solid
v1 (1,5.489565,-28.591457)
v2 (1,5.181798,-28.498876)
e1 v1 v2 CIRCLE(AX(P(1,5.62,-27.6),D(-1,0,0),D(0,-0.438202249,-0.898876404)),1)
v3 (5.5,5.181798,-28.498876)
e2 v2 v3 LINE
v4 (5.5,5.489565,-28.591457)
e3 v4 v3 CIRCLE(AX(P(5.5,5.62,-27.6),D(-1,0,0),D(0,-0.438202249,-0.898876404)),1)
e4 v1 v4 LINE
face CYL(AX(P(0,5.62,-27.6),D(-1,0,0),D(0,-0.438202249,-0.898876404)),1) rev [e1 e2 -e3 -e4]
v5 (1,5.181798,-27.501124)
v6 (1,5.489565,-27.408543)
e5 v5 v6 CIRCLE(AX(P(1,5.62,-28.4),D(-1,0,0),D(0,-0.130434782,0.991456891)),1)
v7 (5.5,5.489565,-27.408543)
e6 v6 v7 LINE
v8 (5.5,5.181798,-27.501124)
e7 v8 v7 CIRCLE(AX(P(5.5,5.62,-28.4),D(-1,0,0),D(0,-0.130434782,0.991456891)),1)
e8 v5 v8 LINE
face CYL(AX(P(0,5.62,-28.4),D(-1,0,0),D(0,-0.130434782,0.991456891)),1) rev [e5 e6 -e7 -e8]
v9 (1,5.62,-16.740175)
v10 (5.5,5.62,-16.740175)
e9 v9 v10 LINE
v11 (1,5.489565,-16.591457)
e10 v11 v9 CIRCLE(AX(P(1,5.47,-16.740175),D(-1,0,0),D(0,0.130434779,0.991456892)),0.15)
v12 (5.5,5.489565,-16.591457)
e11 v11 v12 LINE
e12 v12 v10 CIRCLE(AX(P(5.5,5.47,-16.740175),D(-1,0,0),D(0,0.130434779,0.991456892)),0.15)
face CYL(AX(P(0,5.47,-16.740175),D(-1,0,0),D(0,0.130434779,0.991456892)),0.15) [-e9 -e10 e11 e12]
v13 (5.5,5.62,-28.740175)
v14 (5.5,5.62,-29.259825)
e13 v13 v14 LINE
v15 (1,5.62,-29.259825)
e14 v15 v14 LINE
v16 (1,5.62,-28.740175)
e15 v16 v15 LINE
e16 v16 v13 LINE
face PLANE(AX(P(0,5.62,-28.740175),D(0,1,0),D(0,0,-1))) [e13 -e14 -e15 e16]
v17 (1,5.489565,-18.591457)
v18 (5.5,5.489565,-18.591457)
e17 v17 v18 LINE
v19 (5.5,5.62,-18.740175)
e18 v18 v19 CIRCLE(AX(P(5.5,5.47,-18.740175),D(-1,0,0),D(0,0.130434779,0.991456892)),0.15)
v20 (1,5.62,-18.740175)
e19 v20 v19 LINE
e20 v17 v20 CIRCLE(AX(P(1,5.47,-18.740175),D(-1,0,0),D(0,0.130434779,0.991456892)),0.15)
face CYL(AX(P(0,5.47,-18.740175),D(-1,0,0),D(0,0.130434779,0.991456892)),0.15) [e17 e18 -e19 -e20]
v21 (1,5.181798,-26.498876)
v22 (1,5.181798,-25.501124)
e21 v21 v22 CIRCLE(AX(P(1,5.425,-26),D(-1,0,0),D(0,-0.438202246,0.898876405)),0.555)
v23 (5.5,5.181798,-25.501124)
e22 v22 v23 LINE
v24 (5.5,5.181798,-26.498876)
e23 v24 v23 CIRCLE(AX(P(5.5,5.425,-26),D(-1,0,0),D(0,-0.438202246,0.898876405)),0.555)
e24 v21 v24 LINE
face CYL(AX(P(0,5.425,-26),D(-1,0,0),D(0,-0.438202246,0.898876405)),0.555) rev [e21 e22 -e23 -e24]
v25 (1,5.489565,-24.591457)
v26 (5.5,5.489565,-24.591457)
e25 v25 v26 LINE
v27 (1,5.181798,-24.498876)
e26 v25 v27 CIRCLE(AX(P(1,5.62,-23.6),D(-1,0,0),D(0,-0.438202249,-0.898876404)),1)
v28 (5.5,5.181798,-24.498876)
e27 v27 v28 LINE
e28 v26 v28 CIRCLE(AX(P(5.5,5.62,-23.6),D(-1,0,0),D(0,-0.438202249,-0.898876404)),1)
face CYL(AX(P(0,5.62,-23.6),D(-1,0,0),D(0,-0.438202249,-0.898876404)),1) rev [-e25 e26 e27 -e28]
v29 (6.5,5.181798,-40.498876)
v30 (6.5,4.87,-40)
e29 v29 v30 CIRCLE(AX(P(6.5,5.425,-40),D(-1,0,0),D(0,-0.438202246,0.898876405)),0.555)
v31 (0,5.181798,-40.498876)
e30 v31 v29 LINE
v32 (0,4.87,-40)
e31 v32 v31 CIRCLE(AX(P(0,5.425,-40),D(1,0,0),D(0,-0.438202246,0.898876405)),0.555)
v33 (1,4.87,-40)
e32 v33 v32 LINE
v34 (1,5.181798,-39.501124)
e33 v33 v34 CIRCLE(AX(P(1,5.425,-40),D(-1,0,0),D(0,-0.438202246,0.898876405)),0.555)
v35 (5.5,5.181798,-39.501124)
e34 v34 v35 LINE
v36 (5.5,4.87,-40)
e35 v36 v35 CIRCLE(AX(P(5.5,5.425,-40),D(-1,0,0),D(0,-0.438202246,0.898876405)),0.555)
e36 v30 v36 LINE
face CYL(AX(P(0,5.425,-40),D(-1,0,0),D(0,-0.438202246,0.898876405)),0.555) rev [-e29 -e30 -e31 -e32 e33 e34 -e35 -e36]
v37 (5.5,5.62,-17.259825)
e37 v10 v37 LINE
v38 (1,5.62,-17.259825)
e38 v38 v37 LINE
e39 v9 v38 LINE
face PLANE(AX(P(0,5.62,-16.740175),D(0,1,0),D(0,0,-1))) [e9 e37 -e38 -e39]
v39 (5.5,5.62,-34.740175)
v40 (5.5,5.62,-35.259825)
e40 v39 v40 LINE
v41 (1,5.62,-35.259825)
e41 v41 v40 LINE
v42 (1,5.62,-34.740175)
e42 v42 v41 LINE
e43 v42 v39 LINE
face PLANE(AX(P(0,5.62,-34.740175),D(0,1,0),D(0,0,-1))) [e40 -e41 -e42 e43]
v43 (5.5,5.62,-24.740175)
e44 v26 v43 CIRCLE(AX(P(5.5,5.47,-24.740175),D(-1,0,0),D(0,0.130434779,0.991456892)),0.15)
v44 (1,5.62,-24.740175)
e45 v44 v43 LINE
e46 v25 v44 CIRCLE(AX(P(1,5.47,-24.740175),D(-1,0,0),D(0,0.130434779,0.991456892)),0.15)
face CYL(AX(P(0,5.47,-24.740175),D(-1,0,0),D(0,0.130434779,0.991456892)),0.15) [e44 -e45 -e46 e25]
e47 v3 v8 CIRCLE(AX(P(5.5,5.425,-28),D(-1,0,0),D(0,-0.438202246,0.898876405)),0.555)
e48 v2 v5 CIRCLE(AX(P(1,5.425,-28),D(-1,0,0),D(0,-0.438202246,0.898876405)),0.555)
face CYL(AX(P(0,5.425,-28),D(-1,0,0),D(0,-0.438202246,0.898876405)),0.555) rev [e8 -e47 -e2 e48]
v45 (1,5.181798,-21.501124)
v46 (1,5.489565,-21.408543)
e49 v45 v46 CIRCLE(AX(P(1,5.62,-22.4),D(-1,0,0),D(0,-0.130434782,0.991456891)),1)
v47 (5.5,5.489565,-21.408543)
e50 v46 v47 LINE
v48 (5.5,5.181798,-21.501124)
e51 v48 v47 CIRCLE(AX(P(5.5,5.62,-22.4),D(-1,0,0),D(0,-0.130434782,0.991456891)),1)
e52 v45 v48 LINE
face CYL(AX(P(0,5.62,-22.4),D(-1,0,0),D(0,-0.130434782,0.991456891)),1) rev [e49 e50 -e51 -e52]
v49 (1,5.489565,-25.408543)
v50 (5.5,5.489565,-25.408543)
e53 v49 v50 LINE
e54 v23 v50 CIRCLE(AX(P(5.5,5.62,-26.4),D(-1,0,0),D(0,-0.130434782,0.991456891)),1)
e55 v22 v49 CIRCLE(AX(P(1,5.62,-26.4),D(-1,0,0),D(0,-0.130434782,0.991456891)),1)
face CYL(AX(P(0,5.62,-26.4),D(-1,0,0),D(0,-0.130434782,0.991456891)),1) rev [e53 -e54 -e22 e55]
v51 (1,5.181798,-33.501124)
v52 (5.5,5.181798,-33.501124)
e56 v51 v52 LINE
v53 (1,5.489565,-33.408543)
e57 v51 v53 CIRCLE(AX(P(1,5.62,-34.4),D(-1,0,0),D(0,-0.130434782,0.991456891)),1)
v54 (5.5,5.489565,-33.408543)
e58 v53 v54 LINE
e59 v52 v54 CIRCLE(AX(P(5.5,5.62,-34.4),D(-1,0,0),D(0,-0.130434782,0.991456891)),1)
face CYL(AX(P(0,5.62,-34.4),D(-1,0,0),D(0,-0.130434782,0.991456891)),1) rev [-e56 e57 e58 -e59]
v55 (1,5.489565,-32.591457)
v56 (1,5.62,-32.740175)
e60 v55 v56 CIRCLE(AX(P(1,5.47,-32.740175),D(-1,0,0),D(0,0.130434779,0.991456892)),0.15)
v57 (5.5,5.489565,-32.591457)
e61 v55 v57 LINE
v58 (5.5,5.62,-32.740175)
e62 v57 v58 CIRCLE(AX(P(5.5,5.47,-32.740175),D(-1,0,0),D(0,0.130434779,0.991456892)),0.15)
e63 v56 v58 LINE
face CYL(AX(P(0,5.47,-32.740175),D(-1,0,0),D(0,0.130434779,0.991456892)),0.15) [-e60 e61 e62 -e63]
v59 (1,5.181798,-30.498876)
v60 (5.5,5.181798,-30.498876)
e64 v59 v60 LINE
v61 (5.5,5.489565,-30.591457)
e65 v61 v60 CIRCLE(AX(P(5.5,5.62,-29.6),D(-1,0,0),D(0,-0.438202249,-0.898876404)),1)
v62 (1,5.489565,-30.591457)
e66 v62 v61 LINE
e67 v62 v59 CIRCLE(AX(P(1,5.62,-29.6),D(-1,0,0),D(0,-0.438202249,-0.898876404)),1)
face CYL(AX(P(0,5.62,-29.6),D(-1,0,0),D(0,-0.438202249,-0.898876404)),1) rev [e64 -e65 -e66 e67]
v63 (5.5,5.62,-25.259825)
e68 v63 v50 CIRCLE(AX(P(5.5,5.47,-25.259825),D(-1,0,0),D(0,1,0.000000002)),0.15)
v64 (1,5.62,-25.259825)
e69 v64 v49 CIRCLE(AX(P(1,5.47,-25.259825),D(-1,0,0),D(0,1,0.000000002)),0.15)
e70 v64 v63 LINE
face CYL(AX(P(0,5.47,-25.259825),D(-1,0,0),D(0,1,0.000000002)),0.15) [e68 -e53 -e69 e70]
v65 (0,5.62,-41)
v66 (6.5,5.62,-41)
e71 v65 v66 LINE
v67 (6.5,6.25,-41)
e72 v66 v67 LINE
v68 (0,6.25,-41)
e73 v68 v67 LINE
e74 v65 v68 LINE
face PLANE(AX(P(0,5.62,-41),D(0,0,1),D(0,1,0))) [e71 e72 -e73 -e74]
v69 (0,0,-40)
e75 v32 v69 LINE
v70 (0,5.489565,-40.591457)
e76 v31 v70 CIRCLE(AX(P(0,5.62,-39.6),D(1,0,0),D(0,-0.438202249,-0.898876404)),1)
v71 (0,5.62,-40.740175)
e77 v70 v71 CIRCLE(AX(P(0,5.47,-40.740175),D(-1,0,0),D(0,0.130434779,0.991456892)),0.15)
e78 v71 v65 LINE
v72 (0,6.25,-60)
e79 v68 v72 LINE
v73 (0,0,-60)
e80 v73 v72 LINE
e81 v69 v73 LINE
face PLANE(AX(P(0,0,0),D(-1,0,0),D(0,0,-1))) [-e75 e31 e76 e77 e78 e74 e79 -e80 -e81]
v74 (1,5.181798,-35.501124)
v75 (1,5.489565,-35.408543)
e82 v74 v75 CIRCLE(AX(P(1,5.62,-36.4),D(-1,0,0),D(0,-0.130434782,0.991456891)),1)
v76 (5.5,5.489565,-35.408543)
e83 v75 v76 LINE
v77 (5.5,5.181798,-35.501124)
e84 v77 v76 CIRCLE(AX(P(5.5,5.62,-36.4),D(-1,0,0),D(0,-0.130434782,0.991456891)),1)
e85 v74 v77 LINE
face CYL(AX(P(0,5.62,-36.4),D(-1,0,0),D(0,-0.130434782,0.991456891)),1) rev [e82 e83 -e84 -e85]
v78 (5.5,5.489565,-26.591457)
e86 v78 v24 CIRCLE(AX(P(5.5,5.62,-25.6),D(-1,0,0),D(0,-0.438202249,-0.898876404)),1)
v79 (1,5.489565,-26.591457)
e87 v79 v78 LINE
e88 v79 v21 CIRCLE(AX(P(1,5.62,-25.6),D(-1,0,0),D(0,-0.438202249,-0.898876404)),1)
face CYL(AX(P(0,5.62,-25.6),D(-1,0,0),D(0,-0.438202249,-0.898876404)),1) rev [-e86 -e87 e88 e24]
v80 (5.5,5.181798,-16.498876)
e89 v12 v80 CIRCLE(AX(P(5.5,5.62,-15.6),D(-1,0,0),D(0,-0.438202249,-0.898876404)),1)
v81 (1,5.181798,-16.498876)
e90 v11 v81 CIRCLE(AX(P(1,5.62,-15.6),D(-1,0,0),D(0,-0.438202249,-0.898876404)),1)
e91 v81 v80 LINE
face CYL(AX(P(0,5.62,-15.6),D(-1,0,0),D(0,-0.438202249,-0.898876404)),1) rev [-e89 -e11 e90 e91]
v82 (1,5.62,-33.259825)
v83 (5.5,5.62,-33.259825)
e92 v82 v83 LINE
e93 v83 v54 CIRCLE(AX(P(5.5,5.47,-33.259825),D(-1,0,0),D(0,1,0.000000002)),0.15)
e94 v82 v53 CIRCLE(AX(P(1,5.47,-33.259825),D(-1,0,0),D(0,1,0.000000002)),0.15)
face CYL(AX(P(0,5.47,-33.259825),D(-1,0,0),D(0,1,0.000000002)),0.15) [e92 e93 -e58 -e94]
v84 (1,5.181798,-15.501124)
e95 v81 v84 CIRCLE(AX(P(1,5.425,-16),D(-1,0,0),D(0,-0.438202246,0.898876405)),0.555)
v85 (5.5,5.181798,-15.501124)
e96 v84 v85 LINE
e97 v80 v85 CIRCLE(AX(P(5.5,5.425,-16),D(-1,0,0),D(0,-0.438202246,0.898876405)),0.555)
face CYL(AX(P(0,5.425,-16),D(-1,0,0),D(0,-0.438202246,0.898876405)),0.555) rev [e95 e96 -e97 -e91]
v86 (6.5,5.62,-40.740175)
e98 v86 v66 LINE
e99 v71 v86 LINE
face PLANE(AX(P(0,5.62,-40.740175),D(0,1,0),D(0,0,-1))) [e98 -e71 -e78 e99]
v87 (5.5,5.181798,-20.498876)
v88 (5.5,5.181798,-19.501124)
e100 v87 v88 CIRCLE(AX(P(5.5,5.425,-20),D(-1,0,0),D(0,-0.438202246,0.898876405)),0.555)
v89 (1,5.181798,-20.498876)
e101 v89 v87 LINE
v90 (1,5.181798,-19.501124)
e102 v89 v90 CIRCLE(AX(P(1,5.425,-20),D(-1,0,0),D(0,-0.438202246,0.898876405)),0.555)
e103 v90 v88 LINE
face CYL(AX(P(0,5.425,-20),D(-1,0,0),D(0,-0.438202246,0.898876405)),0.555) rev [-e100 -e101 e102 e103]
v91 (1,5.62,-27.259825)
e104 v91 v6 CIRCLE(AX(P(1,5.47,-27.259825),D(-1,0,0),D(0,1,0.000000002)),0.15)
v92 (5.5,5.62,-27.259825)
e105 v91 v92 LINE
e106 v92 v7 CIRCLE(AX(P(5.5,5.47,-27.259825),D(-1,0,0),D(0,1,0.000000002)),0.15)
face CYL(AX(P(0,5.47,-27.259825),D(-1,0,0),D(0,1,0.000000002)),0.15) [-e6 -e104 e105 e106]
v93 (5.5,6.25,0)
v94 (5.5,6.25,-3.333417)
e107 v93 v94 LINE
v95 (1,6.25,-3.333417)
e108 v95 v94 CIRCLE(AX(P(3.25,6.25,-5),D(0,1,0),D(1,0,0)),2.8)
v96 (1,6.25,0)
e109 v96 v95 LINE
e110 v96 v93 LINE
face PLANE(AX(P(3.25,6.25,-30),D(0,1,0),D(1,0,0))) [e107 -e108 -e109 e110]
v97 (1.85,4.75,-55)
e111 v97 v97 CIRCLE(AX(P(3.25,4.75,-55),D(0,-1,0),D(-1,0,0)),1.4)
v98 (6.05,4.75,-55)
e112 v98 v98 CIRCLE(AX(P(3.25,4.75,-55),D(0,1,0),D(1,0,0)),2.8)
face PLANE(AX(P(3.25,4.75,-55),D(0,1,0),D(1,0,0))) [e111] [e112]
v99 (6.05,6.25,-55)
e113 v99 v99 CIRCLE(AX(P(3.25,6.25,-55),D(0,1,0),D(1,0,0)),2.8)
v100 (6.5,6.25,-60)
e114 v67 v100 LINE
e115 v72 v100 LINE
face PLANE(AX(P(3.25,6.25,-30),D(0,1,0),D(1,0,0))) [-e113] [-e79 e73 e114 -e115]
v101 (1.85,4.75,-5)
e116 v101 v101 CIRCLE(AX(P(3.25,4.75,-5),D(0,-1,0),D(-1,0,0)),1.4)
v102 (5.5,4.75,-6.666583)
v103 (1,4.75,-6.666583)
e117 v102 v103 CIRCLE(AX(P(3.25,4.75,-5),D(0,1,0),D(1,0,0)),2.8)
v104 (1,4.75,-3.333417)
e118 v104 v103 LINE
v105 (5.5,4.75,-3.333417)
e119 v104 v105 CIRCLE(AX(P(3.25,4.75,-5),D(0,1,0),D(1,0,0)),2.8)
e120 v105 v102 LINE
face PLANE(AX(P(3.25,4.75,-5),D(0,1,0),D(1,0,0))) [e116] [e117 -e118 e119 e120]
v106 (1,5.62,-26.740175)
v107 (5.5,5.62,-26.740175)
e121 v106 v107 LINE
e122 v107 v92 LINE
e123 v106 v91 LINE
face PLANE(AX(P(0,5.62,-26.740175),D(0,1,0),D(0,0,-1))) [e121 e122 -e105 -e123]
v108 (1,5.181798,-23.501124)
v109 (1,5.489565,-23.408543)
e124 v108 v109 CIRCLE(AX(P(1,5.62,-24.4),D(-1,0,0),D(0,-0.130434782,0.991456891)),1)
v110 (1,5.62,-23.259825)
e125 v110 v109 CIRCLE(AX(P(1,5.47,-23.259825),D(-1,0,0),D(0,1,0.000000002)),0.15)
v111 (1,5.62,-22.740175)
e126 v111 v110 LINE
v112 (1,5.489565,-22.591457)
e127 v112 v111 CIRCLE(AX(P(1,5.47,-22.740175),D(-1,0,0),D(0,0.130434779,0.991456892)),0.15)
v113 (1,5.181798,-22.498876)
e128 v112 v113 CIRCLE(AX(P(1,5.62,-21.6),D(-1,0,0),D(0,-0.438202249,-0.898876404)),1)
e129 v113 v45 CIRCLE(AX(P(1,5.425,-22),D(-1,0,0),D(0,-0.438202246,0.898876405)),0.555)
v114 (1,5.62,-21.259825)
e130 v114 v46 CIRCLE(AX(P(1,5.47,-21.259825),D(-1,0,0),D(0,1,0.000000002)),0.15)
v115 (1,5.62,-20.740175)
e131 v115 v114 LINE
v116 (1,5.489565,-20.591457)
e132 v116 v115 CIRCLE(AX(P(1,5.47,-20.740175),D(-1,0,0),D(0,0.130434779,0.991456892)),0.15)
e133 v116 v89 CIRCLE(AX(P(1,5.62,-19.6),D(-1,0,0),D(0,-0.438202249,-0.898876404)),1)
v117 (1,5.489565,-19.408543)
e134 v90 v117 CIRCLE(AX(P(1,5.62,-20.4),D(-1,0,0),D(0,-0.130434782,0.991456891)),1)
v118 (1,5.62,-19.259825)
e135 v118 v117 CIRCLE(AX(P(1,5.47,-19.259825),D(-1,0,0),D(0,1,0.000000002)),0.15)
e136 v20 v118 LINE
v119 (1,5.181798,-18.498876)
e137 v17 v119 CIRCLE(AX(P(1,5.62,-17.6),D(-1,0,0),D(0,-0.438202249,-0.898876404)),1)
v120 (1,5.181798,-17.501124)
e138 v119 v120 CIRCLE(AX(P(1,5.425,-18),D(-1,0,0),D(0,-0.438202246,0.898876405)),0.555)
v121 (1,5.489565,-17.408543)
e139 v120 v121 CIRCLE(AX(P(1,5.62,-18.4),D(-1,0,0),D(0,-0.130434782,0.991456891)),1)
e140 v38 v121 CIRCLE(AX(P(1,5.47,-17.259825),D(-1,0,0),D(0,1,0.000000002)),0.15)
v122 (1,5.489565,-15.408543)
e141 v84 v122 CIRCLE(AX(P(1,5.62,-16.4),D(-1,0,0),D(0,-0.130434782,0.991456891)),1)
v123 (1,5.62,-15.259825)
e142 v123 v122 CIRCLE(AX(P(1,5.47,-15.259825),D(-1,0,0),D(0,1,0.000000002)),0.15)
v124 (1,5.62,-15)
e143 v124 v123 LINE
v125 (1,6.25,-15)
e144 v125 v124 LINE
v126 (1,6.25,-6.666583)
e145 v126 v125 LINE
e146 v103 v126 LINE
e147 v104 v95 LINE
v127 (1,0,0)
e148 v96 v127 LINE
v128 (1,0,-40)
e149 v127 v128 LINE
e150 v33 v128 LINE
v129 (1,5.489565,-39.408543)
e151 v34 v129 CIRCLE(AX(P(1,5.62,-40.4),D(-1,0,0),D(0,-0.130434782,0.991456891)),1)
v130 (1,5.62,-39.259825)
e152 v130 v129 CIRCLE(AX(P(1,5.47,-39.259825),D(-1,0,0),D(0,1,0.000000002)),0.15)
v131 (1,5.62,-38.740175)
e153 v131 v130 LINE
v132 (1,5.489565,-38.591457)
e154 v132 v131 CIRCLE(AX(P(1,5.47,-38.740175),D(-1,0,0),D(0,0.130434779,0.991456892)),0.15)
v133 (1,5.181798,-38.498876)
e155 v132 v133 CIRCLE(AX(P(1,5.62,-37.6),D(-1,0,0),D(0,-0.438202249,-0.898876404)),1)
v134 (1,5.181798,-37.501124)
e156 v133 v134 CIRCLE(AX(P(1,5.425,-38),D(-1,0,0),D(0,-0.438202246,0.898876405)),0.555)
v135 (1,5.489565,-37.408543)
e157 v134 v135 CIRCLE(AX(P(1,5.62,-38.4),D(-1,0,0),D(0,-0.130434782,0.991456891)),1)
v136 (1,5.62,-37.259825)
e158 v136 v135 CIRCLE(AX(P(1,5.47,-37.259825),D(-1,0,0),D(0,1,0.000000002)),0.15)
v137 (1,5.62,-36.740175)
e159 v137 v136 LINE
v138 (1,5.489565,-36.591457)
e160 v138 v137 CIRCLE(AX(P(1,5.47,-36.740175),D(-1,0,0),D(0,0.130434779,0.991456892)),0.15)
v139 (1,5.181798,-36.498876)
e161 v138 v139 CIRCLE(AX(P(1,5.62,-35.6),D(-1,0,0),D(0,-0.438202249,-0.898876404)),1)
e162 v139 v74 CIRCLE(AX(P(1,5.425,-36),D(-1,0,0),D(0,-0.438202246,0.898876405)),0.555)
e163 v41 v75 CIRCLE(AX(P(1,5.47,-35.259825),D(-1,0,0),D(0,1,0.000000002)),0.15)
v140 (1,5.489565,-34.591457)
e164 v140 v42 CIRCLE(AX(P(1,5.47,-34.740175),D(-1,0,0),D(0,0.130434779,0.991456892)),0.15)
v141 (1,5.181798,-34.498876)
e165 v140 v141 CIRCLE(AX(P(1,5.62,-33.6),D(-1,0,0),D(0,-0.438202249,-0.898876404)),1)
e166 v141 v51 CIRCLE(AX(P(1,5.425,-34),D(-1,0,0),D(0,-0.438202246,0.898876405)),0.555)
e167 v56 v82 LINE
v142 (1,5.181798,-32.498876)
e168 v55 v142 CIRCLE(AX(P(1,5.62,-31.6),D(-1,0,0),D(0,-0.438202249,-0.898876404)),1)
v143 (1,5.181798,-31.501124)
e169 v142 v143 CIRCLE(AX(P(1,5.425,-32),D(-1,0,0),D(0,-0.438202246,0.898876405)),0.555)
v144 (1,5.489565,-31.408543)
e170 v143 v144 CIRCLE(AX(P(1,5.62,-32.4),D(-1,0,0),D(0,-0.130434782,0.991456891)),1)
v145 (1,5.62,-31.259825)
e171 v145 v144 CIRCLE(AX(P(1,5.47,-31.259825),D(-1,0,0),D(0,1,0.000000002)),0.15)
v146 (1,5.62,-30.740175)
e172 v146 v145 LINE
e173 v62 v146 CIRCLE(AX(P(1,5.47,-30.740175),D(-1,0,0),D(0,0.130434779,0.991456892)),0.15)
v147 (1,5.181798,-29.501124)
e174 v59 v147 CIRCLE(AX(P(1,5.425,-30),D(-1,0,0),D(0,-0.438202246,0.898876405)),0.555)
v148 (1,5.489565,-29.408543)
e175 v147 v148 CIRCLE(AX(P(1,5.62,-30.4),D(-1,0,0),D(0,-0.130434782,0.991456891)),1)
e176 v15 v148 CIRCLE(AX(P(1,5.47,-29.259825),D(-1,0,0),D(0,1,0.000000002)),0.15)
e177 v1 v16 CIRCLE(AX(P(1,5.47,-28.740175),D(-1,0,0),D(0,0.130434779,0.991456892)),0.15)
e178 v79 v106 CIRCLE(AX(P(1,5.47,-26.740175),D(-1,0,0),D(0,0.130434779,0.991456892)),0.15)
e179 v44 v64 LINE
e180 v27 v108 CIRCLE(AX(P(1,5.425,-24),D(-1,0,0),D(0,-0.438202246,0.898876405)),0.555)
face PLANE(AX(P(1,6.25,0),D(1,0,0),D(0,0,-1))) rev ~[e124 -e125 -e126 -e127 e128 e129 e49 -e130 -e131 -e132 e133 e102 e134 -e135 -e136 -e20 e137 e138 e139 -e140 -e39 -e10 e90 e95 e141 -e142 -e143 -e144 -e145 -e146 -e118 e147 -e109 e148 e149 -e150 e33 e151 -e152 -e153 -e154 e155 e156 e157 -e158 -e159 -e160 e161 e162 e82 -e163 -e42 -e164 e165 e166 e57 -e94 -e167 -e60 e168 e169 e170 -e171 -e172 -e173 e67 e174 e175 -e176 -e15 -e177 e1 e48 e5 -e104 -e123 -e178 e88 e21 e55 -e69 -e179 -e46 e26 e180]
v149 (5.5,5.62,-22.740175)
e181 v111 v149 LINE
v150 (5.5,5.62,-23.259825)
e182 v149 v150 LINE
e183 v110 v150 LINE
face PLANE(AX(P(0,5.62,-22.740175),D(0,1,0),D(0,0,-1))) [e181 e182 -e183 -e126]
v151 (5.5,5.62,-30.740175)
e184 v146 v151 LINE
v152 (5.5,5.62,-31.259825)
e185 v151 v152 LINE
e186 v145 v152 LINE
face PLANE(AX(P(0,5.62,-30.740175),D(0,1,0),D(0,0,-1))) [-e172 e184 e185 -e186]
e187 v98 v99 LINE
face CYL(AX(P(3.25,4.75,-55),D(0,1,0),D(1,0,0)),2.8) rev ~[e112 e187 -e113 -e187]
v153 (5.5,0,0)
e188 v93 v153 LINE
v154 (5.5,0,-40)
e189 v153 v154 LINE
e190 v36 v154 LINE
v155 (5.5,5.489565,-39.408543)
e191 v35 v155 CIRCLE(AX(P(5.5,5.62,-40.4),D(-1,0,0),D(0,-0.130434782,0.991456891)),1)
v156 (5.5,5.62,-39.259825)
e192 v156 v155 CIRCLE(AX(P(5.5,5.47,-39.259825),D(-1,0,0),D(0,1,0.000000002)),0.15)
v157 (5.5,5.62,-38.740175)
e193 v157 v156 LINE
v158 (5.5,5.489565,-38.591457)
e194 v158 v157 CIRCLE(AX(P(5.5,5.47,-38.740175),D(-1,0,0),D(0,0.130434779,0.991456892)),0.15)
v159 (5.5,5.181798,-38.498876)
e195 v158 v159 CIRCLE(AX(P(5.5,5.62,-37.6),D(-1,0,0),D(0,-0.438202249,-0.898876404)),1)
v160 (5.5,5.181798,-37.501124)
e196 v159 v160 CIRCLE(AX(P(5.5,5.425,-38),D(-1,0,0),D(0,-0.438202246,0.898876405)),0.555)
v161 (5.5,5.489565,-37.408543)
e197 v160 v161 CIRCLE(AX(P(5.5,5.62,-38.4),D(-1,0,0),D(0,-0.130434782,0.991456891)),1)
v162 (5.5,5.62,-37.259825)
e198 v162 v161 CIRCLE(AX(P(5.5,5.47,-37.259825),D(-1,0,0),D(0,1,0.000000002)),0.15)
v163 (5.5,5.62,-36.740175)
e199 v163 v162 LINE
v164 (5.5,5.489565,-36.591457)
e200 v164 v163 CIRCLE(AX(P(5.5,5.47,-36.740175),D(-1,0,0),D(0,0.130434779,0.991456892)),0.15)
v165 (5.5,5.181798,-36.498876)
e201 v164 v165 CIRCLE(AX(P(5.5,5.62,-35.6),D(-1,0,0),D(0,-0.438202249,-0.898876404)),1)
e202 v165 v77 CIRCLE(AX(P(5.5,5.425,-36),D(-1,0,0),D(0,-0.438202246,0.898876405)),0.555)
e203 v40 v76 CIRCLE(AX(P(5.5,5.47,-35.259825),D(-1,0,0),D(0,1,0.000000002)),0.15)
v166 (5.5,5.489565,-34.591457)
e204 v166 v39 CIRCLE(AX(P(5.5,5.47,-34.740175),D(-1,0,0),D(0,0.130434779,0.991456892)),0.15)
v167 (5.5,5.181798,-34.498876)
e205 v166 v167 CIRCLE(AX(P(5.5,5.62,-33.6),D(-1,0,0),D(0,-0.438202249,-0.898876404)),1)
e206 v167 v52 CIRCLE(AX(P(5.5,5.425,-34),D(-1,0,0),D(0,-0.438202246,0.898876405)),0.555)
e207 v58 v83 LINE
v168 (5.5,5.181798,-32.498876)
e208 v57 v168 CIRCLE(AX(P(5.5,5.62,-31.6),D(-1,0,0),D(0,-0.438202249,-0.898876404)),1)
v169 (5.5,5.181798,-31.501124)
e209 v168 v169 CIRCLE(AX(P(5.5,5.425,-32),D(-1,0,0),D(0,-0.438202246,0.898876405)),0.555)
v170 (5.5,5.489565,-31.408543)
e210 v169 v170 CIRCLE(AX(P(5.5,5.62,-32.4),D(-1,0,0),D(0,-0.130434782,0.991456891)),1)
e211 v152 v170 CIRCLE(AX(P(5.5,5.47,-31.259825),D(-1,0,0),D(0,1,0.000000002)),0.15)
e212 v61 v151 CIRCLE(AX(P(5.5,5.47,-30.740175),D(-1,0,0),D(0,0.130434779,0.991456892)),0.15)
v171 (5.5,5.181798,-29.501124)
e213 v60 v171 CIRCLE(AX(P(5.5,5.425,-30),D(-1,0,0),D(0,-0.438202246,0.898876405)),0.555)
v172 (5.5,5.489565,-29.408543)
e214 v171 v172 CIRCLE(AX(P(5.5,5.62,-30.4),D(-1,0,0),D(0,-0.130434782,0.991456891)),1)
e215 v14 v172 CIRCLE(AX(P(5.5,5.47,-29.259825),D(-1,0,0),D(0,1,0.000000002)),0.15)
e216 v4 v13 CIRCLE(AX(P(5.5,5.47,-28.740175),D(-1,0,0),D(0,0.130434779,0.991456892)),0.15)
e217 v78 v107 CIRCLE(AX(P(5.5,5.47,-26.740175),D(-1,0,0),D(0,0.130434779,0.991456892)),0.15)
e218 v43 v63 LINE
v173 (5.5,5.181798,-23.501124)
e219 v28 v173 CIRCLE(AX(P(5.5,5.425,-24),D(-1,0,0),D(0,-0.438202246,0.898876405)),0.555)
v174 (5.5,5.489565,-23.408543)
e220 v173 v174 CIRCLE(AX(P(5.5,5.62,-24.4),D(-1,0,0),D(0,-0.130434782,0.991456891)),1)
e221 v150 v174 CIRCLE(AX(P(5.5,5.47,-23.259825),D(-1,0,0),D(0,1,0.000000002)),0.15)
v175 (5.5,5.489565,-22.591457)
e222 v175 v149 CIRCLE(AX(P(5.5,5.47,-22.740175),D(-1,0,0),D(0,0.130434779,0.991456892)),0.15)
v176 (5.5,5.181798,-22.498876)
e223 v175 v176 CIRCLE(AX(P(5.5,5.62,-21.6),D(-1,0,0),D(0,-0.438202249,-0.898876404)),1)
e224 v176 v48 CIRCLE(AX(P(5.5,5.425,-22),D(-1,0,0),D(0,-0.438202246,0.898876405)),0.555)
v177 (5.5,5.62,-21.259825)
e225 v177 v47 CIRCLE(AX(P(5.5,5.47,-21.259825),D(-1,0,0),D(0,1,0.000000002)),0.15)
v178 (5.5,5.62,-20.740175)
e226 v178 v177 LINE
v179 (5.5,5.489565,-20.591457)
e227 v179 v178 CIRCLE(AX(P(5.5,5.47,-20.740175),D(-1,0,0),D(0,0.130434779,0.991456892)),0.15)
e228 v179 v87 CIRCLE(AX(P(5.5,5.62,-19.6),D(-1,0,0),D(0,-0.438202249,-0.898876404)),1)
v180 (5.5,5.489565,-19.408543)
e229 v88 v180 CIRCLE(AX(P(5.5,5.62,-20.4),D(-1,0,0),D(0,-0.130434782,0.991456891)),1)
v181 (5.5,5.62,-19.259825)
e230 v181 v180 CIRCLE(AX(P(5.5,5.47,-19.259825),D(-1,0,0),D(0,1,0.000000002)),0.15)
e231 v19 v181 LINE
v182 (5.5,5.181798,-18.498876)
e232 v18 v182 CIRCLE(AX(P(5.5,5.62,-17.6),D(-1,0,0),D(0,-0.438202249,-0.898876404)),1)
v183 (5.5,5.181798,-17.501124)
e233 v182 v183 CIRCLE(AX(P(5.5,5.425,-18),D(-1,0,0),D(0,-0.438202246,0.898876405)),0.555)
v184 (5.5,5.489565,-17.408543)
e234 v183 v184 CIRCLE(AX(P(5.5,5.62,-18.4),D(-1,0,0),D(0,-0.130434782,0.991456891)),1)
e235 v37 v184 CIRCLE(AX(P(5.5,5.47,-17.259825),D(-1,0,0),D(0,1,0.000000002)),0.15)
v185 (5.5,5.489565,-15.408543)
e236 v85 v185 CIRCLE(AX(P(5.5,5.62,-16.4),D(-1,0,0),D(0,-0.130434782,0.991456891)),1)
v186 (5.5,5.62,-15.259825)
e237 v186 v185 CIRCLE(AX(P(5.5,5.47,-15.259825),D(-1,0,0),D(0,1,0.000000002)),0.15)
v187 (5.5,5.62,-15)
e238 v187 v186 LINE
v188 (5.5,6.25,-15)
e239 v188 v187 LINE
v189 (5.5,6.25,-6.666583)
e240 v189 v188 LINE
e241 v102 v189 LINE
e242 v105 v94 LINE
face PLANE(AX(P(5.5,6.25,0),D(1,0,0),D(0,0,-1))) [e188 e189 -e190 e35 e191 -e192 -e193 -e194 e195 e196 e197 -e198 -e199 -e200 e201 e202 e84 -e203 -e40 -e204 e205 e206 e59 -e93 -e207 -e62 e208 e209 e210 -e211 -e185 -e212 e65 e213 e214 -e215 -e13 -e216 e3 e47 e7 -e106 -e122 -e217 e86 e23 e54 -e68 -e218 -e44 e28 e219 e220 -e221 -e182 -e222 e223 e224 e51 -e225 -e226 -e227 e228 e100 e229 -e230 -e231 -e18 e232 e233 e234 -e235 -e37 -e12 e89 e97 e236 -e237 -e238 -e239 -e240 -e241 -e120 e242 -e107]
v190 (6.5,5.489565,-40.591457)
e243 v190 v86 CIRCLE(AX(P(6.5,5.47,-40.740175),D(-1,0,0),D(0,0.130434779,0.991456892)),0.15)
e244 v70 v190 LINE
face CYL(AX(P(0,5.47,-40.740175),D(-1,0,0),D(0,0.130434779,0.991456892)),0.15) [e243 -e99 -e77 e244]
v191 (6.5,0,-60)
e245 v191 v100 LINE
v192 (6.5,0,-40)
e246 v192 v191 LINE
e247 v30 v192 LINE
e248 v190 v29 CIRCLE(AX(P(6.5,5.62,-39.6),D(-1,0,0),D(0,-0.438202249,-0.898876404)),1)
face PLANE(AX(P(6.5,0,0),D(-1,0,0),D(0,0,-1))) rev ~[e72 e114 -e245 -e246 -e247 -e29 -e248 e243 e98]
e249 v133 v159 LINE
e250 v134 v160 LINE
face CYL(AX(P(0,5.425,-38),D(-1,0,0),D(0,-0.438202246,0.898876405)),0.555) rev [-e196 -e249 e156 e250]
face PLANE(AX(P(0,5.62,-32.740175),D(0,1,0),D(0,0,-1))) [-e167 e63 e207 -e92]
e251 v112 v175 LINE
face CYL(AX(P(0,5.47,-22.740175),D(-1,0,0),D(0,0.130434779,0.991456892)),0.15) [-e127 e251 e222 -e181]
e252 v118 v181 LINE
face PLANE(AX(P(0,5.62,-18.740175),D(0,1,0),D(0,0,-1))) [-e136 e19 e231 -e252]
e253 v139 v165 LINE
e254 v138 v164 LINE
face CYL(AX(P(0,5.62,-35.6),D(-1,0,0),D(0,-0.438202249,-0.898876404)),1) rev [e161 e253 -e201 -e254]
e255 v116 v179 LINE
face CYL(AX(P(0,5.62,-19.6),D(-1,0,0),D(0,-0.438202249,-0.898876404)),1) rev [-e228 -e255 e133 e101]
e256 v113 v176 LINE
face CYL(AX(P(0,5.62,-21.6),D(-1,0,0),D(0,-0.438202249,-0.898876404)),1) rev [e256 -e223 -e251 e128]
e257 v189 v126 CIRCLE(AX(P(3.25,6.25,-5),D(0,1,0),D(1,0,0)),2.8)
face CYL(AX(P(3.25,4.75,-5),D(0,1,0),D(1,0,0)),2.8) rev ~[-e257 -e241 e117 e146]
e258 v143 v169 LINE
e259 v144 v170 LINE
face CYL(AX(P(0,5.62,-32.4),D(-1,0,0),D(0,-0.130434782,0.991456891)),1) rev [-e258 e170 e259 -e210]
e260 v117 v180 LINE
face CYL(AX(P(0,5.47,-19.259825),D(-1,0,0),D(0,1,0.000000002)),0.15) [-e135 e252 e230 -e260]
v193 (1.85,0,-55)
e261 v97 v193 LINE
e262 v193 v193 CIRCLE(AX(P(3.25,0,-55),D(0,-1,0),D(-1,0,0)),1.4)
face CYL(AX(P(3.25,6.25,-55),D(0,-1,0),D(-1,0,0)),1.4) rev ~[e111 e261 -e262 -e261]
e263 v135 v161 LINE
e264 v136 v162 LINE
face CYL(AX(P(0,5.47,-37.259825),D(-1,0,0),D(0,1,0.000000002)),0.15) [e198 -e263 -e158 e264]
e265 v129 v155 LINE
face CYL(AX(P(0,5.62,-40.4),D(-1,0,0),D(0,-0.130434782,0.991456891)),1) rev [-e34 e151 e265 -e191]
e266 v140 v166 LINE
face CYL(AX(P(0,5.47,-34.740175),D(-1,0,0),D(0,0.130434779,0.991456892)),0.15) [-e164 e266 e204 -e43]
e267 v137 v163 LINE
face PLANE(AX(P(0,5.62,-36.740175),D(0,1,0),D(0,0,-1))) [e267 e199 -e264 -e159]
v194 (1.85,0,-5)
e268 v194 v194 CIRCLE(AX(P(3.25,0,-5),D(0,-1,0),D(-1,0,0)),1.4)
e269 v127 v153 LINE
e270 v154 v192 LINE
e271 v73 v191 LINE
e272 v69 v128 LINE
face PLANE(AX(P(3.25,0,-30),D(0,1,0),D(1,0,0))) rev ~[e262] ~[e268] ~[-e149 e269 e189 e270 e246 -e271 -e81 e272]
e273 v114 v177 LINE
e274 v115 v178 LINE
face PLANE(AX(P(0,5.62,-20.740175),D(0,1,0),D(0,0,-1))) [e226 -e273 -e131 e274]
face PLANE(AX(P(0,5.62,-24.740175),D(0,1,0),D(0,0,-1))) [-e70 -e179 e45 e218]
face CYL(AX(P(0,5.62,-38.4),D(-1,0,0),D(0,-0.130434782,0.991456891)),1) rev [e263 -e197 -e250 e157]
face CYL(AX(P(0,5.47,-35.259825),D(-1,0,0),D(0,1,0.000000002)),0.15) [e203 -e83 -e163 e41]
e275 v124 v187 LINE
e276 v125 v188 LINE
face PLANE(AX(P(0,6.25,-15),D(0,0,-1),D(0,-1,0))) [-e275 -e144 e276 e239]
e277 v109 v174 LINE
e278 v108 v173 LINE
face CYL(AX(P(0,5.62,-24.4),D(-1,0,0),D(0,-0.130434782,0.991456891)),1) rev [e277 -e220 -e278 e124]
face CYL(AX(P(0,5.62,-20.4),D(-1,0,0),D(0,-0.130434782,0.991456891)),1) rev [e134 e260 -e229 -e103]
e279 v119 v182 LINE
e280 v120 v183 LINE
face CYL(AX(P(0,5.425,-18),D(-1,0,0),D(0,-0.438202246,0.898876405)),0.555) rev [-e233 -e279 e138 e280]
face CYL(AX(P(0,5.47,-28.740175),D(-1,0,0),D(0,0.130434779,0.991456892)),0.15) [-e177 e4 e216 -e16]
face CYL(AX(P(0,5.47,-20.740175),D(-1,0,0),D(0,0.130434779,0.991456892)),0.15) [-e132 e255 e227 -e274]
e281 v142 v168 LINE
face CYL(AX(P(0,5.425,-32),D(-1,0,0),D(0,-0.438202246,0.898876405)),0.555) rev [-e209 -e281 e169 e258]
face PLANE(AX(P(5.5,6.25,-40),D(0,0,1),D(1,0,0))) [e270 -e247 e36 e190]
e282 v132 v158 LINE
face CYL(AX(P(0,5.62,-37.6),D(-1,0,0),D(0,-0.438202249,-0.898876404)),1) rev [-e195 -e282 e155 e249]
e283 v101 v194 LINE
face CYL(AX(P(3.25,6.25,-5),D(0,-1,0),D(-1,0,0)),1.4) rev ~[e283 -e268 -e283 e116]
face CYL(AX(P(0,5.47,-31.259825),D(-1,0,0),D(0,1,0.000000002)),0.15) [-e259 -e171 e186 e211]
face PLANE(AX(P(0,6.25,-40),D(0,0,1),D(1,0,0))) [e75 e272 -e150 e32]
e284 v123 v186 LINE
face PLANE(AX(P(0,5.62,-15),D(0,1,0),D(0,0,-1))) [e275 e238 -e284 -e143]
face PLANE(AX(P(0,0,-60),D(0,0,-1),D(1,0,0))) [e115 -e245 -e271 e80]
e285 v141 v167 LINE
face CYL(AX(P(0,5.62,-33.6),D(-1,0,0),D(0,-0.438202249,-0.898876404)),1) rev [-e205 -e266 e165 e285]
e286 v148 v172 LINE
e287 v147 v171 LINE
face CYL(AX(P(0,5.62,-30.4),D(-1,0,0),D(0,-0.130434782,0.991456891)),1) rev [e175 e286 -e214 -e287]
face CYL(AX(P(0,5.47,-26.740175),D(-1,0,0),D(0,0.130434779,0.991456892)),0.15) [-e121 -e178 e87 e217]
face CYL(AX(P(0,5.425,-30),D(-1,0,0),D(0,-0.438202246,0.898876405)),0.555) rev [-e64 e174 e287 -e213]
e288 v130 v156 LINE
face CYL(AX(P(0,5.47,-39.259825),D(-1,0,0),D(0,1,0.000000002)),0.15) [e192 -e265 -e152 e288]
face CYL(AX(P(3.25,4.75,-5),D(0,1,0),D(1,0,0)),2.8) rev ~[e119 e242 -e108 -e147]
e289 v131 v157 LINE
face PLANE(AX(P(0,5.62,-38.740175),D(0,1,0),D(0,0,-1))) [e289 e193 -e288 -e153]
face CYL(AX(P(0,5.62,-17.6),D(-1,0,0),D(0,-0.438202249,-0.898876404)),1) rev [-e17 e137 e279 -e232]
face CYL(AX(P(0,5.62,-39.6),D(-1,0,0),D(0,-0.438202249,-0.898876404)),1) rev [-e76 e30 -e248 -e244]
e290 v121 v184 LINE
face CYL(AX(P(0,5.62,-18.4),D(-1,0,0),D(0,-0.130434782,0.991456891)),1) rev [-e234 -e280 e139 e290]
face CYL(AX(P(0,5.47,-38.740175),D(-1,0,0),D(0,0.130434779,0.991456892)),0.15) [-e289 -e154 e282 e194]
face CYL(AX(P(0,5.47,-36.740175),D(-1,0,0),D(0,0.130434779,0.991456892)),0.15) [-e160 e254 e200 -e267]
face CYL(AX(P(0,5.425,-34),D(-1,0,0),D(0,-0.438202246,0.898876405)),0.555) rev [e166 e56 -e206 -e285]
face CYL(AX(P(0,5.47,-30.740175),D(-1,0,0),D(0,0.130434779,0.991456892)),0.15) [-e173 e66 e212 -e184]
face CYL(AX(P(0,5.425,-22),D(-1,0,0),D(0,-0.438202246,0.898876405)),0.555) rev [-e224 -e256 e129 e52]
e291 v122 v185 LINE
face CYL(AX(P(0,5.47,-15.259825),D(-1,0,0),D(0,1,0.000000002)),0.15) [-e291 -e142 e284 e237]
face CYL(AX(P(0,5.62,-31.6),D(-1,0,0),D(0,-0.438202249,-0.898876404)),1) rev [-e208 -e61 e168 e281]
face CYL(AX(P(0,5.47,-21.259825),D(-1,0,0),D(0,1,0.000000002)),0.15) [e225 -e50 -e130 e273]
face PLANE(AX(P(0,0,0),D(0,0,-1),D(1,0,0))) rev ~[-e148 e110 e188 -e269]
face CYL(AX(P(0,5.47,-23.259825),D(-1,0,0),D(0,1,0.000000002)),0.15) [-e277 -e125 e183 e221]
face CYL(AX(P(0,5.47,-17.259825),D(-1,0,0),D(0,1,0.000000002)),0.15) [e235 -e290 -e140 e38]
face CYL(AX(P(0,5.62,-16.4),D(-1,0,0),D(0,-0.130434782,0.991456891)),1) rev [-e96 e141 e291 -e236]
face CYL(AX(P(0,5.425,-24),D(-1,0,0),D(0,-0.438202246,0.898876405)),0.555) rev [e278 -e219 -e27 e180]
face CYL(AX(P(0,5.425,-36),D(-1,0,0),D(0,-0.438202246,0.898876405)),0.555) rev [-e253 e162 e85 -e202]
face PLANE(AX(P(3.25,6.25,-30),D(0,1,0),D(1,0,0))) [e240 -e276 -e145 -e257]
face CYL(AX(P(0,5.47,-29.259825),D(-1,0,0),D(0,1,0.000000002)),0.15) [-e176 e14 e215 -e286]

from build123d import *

# Parameters (mm, degrees)
SKETCH1_W                        = 6.5
SKETCH1_H                        = 60
BOSS_EXTRUDE1_DEPTH              = 6.25
CUT_EXTRUDE3_DEPTH               = 61.673820549
LPATTERN1_COUNT                  = 12
LPATTERN1_PITCH                  = 2
CBORE_FOR_M1_6_SHCS1_D           = 2.8
CBORE_FOR_M1_6_SHCS1_CBORE_D     = 5.6
CBORE_FOR_M1_6_SHCS1_CBORE_DEPTH = 1.5
SKETCH6_W                        = 1
SKETCH6_H                        = 40
CUT_EXTRUDE2_DEPTH               = 61.673820549


with BuildPart() as part:
    # Sketch1 → Boss-Extrude1 (new body)
    with BuildSketch(Plane(origin=(0, 0, 0), x_dir=(1, 0, 0), z_dir=(0, 1, 0))):
        with Locations((3.25, 30)):
            Rectangle(SKETCH1_W, SKETCH1_H)
    extrude(amount=BOSS_EXTRUDE1_DEPTH)

    # Sketch9 → Cut-Extrude3 (cut, through all)
    with BuildSketch(Plane.ZY):
        with BuildLine():
            Line((-19, 6.25), (-15, 6.25))
            Line((-15, 6.25), (-15, 5.62))
            Line((-15, 5.62), (-15.259824575, 5.62))
            ThreePointArc((-15.259824575, 5.62), (-15.358731646, 5.582771412), (-15.408543109, 5.489565217))
            ThreePointArc((-15.408543109, 5.489565217), (-15.442388286, 5.331937846), (-15.501123596, 5.181797753))
            ThreePointArc((-15.501123596, 5.181797753), (-16, 4.87), (-16.498876404, 5.181797753))
            ThreePointArc((-16.498876404, 5.181797753), (-16.557611714, 5.331937846), (-16.591456891, 5.489565217))
            ThreePointArc((-16.591456891, 5.489565217), (-16.641268354, 5.582771412), (-16.740175425, 5.62))
            Line((-16.740175425, 5.62), (-17.259824575, 5.62))
            ThreePointArc((-17.259824575, 5.62), (-17.358731646, 5.582771412), (-17.408543109, 5.489565217))
            ThreePointArc((-17.408543109, 5.489565217), (-17.442388286, 5.331937846), (-17.501123596, 5.181797753))
            ThreePointArc((-17.501123596, 5.181797753), (-18, 4.87), (-18.498876404, 5.181797753))
            ThreePointArc((-18.498876404, 5.181797753), (-18.557611714, 5.331937846), (-18.591456891, 5.489565217))
            ThreePointArc((-18.591456891, 5.489565217), (-18.641268354, 5.582771412), (-18.740175425, 5.62))
            Line((-18.740175425, 5.62), (-19, 5.62))
            Line((-19, 5.62), (-19, 6.25))
        make_face()
    cut_extrude3 = extrude(amount=-CUT_EXTRUDE3_DEPTH, mode=Mode.SUBTRACT)

    # LPattern1: Cut-Extrude3 ×12
    with Locations(*[(0, 0, -i * LPATTERN1_PITCH) for i in range(1, LPATTERN1_COUNT)]):
        add(cut_extrude3, mode=Mode.SUBTRACT)

    # CBORE for M1.6 SHCS1 (through all)
    with Locations(Plane(origin=(0, 6.25, 0), x_dir=(1, 0, 0), z_dir=(0, 1, 0))):
        with Locations((3.25, 55), (3.25, 5)):
            CounterBoreHole(CBORE_FOR_M1_6_SHCS1_D / 2, CBORE_FOR_M1_6_SHCS1_CBORE_D / 2, CBORE_FOR_M1_6_SHCS1_CBORE_DEPTH)

    # Sketch6 → Cut-Extrude2 (cut, through all)
    with BuildSketch(Plane(origin=(0, 6.25, 0), x_dir=(1, 0, 0), z_dir=(0, 1, 0))):
        with Locations((6, 20)):
            Rectangle(SKETCH6_W, SKETCH6_H)
        with Locations((0.5, 20)):
            Rectangle(SKETCH6_W, SKETCH6_H)
    extrude(amount=-CUT_EXTRUDE2_DEPTH, mode=Mode.SUBTRACT)


solid = part.part
